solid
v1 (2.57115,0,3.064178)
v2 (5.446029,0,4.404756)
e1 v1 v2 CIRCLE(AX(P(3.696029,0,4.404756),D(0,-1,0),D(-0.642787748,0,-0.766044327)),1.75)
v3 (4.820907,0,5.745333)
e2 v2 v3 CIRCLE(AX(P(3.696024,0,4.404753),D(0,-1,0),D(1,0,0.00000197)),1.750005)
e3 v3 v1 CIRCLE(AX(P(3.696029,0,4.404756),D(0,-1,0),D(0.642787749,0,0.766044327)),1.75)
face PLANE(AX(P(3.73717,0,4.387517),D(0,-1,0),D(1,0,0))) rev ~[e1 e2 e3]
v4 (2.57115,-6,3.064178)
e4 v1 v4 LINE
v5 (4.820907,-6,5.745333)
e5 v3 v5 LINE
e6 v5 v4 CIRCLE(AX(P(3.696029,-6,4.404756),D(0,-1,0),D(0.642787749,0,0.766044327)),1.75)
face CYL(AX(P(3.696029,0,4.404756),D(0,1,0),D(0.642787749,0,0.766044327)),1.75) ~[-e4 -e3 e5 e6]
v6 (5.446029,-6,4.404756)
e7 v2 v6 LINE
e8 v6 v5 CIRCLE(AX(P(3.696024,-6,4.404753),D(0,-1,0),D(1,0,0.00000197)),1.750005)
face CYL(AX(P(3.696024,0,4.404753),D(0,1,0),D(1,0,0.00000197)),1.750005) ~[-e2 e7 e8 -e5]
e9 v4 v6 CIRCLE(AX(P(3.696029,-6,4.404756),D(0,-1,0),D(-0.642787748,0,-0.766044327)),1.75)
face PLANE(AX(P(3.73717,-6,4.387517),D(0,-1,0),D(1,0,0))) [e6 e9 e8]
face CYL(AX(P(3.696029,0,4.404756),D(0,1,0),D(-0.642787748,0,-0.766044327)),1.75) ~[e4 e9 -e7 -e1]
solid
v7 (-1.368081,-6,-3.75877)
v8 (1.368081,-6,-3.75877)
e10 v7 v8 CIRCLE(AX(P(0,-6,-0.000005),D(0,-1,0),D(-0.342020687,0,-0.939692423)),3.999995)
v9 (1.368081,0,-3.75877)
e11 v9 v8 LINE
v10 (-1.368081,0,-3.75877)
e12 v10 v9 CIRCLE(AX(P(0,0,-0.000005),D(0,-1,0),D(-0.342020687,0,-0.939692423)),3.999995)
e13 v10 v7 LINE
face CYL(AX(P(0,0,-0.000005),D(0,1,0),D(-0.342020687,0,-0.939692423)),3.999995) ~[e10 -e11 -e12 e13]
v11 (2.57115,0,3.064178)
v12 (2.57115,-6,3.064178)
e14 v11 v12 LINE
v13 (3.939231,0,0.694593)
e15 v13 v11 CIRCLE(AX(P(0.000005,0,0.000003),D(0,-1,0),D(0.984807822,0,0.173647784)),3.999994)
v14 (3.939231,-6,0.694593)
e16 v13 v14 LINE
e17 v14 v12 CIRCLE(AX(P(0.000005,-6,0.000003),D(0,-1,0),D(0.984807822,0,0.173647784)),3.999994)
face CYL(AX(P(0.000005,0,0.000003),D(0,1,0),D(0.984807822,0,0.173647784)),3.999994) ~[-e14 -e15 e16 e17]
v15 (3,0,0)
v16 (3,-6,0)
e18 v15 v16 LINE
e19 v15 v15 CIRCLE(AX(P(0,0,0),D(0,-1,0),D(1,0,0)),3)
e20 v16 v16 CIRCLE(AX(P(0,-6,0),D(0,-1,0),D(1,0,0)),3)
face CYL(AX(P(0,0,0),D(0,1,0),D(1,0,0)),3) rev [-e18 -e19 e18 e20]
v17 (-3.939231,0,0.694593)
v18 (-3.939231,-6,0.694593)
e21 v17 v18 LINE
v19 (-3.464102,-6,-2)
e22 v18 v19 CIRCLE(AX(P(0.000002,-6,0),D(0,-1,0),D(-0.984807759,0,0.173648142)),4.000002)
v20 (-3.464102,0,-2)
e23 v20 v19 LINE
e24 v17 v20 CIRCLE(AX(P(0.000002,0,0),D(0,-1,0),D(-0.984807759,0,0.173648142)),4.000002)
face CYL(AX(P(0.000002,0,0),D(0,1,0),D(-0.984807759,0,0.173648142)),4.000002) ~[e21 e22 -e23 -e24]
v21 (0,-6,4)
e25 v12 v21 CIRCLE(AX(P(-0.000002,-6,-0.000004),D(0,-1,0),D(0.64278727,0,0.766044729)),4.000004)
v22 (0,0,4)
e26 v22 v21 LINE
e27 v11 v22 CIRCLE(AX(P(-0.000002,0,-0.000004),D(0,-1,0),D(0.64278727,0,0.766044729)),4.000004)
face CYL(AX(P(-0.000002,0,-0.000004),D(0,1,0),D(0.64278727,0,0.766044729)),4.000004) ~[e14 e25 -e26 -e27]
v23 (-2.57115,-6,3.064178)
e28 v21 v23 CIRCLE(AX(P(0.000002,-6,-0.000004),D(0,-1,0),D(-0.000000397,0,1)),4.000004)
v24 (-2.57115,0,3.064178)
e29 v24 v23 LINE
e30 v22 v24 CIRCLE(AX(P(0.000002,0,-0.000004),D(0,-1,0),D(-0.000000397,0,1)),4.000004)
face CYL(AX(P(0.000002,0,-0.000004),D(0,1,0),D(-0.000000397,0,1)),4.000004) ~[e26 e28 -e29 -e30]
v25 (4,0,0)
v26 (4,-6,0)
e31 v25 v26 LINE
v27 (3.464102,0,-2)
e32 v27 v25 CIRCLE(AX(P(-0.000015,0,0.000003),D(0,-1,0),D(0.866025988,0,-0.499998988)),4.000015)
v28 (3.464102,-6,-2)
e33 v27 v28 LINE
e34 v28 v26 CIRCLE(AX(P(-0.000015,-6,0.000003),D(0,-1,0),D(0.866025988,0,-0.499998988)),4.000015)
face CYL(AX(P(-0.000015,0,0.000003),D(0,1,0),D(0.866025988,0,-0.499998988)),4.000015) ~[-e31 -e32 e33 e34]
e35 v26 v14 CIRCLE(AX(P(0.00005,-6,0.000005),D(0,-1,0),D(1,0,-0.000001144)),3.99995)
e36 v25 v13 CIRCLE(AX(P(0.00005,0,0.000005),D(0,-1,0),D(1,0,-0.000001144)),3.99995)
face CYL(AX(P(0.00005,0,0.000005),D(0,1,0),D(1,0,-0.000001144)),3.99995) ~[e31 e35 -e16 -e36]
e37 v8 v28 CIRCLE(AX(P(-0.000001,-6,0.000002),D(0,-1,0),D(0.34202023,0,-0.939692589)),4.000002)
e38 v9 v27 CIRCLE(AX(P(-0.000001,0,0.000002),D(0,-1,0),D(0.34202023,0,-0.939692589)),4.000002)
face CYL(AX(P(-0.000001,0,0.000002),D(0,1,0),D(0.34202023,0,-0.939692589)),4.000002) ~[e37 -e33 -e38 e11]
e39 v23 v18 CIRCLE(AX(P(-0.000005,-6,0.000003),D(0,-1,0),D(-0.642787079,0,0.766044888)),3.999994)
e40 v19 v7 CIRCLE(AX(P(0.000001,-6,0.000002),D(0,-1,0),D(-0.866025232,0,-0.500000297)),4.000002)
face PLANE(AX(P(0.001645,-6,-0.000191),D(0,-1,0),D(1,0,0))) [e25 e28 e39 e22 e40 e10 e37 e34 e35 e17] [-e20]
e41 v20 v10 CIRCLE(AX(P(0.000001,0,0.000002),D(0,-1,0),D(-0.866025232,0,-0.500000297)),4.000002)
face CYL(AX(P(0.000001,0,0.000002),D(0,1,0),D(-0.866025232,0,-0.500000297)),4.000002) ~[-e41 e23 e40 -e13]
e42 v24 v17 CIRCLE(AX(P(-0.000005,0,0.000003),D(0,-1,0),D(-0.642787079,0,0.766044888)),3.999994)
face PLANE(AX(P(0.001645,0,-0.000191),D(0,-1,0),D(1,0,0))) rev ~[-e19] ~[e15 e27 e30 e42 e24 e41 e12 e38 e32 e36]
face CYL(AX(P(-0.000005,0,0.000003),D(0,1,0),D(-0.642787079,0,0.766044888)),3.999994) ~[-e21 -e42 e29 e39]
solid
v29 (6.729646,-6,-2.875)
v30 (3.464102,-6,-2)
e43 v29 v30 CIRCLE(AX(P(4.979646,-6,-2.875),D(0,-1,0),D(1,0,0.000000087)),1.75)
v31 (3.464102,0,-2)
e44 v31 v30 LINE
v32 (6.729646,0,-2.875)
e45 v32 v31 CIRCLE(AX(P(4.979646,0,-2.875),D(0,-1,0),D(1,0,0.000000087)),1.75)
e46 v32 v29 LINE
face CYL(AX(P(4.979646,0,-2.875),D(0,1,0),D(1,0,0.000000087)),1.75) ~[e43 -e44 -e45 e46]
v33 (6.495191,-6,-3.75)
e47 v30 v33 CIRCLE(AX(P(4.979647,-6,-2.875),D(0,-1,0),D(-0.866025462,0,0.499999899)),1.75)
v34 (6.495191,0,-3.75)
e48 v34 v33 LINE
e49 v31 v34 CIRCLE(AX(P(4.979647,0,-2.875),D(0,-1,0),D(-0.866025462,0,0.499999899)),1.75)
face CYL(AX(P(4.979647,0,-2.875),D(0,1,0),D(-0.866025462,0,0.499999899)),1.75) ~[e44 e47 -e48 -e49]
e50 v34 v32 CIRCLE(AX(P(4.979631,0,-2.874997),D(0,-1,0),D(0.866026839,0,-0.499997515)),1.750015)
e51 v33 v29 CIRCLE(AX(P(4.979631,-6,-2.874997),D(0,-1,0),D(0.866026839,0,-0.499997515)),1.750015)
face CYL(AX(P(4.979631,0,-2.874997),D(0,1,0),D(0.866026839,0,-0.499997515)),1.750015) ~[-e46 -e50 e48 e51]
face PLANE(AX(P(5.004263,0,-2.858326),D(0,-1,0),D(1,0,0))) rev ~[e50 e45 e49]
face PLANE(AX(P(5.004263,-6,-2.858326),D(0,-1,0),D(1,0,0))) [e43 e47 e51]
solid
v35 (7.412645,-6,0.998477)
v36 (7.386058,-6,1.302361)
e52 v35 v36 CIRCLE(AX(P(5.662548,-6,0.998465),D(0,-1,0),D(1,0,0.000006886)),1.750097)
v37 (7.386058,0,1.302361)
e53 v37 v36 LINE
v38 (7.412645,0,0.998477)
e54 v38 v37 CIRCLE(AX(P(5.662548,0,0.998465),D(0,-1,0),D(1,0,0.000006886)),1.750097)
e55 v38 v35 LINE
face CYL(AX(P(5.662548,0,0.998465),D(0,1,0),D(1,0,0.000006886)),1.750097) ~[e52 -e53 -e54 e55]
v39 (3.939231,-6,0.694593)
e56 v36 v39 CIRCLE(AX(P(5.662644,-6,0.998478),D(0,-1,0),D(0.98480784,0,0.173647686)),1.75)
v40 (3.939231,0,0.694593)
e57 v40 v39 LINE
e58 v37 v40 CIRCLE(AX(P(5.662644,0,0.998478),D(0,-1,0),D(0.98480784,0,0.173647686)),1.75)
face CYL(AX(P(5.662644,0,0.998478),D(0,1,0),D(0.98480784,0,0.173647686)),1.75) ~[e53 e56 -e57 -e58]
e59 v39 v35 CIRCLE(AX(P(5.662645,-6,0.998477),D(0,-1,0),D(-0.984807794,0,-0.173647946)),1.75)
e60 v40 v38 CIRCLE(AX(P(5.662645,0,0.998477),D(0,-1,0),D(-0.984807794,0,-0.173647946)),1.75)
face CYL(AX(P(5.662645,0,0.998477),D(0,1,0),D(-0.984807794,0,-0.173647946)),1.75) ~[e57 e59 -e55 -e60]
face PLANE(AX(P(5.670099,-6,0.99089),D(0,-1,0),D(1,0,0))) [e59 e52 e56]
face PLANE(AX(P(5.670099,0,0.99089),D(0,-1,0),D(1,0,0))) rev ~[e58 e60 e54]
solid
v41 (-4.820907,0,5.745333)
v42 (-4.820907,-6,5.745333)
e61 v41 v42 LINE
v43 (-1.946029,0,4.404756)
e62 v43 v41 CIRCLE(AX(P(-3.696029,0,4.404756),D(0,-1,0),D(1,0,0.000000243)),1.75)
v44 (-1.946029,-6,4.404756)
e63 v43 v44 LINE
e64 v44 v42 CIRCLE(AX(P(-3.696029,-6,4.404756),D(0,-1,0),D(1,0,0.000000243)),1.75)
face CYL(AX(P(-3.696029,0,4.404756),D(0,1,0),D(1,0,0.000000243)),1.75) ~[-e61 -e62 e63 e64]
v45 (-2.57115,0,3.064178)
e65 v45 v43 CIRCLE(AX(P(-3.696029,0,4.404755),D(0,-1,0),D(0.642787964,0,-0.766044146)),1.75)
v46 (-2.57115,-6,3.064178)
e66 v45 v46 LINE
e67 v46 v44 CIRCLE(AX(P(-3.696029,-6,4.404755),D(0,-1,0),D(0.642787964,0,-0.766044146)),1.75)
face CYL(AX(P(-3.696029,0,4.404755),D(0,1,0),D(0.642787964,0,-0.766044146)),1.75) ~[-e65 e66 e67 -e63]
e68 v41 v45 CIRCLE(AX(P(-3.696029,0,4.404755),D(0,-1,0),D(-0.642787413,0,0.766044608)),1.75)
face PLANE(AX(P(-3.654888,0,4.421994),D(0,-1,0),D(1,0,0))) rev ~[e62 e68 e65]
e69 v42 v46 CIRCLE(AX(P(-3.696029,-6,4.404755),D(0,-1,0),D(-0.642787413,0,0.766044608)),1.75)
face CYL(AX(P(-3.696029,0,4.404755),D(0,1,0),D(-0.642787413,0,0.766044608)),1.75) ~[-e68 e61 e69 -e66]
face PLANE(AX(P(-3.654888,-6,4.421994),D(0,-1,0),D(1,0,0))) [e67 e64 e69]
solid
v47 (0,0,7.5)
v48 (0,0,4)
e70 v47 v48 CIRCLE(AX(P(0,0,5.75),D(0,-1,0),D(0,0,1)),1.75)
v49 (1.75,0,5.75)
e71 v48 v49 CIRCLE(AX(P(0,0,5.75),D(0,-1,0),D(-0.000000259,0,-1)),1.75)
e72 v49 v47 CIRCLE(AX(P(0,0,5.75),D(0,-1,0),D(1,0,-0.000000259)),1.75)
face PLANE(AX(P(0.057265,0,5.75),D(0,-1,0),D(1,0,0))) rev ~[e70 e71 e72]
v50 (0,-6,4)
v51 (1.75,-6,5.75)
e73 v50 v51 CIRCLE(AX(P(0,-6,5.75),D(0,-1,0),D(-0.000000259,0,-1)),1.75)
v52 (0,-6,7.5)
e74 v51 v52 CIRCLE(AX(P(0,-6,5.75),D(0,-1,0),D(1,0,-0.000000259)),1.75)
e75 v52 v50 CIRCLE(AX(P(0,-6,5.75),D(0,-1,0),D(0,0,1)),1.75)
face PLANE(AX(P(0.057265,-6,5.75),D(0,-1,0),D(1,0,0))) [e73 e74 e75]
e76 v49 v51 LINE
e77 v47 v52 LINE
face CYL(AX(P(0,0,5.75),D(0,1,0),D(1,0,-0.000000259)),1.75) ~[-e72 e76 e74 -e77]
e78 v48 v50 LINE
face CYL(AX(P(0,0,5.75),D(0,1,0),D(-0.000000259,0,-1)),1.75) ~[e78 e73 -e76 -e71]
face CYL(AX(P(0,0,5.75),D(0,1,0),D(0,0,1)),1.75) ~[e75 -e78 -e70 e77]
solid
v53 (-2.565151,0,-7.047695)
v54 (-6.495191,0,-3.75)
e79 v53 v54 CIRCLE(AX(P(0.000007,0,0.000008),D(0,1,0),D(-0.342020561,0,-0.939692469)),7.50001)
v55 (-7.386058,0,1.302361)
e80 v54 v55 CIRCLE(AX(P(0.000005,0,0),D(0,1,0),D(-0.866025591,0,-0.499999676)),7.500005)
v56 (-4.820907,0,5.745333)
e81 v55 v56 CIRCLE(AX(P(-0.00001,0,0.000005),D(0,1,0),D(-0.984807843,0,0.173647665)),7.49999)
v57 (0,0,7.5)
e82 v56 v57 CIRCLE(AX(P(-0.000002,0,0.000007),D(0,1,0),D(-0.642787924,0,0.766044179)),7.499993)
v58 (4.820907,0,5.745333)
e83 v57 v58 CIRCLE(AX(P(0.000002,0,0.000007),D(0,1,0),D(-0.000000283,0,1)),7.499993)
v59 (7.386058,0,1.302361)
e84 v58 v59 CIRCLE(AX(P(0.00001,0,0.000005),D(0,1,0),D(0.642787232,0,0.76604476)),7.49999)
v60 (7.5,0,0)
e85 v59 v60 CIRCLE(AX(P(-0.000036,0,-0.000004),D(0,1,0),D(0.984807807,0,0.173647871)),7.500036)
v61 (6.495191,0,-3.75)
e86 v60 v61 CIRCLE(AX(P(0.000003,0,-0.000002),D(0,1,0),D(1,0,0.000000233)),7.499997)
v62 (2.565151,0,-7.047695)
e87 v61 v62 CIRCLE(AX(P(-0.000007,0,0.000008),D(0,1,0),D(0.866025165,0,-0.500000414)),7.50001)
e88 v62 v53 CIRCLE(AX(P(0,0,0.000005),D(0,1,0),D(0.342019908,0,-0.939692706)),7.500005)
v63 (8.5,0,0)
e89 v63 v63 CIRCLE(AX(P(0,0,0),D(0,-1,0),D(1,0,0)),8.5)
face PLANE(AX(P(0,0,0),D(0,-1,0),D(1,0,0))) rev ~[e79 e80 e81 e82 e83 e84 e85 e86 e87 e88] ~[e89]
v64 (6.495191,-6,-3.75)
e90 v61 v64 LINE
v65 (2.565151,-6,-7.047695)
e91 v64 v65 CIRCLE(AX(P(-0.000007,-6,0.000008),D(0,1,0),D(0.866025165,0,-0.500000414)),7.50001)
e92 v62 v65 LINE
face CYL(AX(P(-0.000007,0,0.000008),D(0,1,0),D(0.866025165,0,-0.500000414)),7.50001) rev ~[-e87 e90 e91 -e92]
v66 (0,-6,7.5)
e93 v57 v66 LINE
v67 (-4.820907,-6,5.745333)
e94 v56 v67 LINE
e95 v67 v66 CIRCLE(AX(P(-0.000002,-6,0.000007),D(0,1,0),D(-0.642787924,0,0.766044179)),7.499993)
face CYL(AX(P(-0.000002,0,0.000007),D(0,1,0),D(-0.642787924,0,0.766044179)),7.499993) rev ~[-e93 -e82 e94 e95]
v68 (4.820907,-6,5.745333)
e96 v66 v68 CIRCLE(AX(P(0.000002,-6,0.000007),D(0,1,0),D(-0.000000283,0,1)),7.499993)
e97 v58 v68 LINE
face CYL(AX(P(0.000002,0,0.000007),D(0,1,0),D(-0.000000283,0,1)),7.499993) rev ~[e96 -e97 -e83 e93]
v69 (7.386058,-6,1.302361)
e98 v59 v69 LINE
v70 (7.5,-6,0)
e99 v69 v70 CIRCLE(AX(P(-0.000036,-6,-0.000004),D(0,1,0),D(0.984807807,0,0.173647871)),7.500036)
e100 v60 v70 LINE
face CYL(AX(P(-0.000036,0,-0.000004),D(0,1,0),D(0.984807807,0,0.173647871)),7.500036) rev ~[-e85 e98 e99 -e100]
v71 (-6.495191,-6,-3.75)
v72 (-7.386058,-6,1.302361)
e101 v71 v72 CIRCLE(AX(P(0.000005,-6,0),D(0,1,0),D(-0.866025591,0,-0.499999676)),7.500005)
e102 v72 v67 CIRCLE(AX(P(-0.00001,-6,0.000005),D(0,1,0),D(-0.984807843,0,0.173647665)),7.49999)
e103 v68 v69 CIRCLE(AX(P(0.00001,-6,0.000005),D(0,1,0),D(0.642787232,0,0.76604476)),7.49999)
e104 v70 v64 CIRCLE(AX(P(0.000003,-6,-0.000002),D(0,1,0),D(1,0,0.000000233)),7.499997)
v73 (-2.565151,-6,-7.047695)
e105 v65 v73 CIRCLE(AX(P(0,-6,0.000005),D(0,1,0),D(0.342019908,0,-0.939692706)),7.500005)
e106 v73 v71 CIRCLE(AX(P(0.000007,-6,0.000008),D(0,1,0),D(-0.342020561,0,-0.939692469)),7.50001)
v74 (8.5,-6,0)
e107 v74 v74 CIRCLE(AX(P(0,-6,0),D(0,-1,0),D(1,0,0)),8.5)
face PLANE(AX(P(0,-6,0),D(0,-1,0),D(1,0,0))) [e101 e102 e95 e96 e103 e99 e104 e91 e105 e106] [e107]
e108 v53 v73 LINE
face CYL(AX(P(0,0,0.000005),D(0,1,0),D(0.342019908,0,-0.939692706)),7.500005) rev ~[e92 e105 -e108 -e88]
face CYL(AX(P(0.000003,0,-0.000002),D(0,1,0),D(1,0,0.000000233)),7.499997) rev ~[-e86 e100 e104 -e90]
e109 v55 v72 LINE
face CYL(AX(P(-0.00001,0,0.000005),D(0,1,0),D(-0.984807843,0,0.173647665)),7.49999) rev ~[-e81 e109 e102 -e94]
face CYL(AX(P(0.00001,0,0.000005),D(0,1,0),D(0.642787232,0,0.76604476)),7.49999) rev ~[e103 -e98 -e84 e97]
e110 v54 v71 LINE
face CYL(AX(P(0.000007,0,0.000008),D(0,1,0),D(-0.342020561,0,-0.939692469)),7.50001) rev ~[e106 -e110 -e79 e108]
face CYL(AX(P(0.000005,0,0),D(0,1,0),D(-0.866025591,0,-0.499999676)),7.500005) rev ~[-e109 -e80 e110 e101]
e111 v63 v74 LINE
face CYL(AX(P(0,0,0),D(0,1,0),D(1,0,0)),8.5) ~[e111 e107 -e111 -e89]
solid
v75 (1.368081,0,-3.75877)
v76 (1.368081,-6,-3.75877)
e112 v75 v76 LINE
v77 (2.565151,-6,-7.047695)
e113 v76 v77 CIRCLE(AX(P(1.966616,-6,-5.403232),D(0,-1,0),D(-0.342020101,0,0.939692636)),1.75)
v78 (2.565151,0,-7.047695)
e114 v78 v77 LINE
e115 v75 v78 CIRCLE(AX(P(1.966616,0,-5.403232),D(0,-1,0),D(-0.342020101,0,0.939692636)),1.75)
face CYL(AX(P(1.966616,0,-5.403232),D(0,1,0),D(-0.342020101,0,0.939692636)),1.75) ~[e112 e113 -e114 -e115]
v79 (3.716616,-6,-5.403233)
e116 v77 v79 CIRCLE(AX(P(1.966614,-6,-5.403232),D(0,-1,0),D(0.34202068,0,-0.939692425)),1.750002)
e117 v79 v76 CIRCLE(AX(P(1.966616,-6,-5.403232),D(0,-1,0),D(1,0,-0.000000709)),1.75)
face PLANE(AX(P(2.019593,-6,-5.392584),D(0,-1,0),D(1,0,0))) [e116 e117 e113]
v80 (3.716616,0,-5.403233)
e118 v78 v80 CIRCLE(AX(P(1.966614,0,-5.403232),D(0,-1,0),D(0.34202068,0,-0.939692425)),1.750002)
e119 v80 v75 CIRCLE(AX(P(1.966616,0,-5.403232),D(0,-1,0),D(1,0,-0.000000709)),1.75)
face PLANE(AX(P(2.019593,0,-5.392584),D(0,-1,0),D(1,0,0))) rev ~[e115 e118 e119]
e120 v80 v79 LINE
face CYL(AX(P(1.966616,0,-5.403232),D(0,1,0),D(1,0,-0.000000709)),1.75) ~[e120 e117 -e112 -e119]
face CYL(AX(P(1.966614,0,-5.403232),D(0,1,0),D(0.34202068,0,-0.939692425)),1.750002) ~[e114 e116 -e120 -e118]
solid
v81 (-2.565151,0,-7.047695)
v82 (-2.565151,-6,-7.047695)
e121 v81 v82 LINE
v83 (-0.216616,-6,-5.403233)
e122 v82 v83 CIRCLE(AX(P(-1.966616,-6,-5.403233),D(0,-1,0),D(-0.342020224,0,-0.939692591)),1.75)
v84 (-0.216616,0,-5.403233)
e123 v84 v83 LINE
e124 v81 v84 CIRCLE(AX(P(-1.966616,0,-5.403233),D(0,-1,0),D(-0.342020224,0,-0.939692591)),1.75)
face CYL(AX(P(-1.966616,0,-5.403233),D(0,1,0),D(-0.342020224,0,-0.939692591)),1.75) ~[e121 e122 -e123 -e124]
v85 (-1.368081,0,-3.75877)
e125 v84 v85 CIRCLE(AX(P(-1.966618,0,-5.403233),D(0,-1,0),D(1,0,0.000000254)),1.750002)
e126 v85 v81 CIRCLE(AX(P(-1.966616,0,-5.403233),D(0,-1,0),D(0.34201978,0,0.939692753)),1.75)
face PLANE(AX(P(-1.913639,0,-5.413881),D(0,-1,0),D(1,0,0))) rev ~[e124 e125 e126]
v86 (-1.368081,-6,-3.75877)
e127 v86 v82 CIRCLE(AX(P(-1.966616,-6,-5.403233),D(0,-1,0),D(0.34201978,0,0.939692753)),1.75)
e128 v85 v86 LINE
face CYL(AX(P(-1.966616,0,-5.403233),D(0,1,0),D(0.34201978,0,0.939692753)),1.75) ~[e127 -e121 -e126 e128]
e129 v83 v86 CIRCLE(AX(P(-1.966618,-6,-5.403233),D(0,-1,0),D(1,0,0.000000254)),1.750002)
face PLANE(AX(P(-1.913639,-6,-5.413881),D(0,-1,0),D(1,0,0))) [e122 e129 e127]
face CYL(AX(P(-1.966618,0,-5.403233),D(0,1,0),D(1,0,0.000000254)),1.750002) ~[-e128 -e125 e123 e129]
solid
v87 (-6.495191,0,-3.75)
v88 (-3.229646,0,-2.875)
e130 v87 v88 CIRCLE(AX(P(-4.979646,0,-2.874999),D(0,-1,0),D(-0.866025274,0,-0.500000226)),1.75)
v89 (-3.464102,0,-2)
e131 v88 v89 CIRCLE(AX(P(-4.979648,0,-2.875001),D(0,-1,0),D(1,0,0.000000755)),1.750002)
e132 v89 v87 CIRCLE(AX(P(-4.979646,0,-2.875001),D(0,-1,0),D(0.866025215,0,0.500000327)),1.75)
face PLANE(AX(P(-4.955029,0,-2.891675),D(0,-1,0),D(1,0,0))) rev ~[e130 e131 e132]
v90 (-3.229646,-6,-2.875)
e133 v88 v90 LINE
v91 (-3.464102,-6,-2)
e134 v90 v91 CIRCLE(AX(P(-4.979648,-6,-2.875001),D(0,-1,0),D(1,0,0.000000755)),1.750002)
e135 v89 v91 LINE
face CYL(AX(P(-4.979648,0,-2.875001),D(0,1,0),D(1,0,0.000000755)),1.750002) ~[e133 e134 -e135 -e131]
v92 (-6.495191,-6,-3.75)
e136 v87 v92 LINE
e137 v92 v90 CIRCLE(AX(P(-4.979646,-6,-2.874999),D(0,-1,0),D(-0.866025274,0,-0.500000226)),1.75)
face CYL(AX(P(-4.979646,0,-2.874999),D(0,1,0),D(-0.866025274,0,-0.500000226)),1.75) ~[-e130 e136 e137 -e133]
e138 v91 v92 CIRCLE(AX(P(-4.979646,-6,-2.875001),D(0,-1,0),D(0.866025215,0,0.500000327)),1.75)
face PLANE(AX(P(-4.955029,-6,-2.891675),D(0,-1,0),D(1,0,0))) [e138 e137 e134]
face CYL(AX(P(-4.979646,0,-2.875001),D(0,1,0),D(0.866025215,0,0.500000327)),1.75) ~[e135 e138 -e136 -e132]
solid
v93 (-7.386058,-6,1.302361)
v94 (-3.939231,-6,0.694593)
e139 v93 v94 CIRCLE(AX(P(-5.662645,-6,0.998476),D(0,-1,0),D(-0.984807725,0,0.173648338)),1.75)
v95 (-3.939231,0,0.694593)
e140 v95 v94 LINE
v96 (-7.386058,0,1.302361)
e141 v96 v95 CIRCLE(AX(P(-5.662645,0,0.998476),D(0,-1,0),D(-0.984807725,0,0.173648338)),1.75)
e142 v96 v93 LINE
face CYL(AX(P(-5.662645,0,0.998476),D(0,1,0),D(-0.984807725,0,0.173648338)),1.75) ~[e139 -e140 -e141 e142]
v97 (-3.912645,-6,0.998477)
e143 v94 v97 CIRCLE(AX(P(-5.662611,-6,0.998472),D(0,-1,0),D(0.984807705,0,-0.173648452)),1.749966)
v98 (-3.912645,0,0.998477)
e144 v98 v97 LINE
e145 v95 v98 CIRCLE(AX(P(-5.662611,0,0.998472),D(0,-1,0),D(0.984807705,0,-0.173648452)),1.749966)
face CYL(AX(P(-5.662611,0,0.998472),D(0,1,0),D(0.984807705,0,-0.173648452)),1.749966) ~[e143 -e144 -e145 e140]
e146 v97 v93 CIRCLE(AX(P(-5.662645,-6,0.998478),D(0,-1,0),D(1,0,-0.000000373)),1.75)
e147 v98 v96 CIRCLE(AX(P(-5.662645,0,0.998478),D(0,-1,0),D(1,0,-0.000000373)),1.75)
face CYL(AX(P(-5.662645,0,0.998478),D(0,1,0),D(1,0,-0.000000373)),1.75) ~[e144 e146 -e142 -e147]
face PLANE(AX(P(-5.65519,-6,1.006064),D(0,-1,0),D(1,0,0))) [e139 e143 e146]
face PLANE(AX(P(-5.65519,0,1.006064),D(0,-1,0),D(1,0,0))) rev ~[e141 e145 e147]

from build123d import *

# Parameters (mm, degrees)
F0_R     = 8.5
F0_R_2   = 3
F1_DEPTH = 6


with BuildPart() as f1:
    # F0 (on Front) → F1 (new body)
    with BuildSketch(Plane.XZ):
        Circle(F0_R)
        with BuildLine():
            ThreePointArc((7.386058, 1.302361), (7.47146, 0.653668), (7.5, 0))
            ThreePointArc((7.5, 0), (7.244444, -1.941143), (6.495191, -3.75))
            ThreePointArc((6.495191, -3.75), (4.820907, -5.745333), (2.565151, -7.047695))
            ThreePointArc((2.565151, -7.047695), (0, -7.5), (-2.565151, -7.047695))
            ThreePointArc((-2.565151, -7.047695), (-4.820907, -5.745333), (-6.495191, -3.75))
            ThreePointArc((-6.495191, -3.75), (-7.386058, -1.302361), (-7.386058, 1.302361))
            ThreePointArc((-7.386058, 1.302361), (-6.495191, 3.75), (-4.820907, 5.745333))
            ThreePointArc((-4.820907, 5.745333), (-2.565151, 7.047695), (0, 7.5))
            ThreePointArc((0, 7.5), (2.565151, 7.047695), (4.820907, 5.745333))
            ThreePointArc((4.820907, 5.745333), (6.495191, 3.75), (7.386058, 1.302361))
        make_face(mode=Mode.SUBTRACT)
        with BuildLine():
            ThreePointArc((-1.946029, 4.404756), (-2.956447, 5.990794), (-4.820907, 5.745333))
            ThreePointArc((-4.820907, 5.745333), (-5.036607, 3.279877), (-2.57115, 3.064178))
            ThreePointArc((-2.57115, 3.064178), (-2.10999, 3.665174), (-1.946029, 4.404756))
        make_face()
        with BuildLine():
            ThreePointArc((-3.912645, 0.998477), (-5.510122, 2.741818), (-7.386058, 1.302361))
            ThreePointArc((-7.386058, 1.302361), (-5.966529, -0.724937), (-3.939231, 0.694593))
            ThreePointArc((-3.939231, 0.694593), (-3.919304, 0.845954), (-3.912645, 0.998477))
        make_face()
        with BuildLine():
            ThreePointArc((-3.464102, -2), (-5.854646, -1.359456), (-6.495191, -3.75))
            ThreePointArc((-6.495191, -3.75), (-4.526713, -4.56537), (-3.229646, -2.875))
            ThreePointArc((-3.229646, -2.875), (-3.289276, -2.422067), (-3.464102, -2))
        make_face()
        with BuildLine():
            ThreePointArc((4, 0), (3.984779, 0.348623), (3.939231, 0.694593))
            ThreePointArc((3.939231, 0.694593), (3.464102, 2), (2.57115, 3.064178))
            ThreePointArc((2.57115, 3.064178), (1.368081, 3.75877), (0, 4))
            ThreePointArc((0, 4), (-1.368081, 3.75877), (-2.57115, 3.064178))
            ThreePointArc((-2.57115, 3.064178), (-3.464102, 2), (-3.939231, 0.694593))
            ThreePointArc((-3.939231, 0.694593), (-3.939231, -0.694593), (-3.464102, -2))
            ThreePointArc((-3.464102, -2), (-2.57115, -3.064178), (-1.368081, -3.75877))
            ThreePointArc((-1.368081, -3.75877), (0, -4), (1.368081, -3.75877))
            ThreePointArc((1.368081, -3.75877), (2.57115, -3.064178), (3.464102, -2))
            ThreePointArc((3.464102, -2), (3.863703, -1.035276), (4, 0))
        make_face()
        Circle(F0_R_2, mode=Mode.SUBTRACT)
        with BuildLine():
            ThreePointArc((1.75, 5.75), (1.237437, 6.987437), (0, 7.5))
            ThreePointArc((0, 7.5), (-1.75, 5.75), (0, 4))
            ThreePointArc((0, 4), (1.237437, 4.512563), (1.75, 5.75))
        make_face()
        with BuildLine():
            ThreePointArc((5.446029, 4.404756), (5.282067, 5.144337), (4.820907, 5.745333))
            ThreePointArc((4.820907, 5.745333), (2.355451, 5.529634), (2.57115, 3.064178))
            ThreePointArc((2.57115, 3.064178), (4.435611, 2.818717), (5.446029, 4.404756))
        make_face()
        with BuildLine():
            ThreePointArc((7.412645, 0.998477), (7.405985, 1.151), (7.386058, 1.302361))
            ThreePointArc((7.386058, 1.302361), (5.35876, 2.721891), (3.939231, 0.694593))
            ThreePointArc((3.939231, 0.694593), (5.815167, -0.744864), (7.412645, 0.998477))
        make_face()
        with BuildLine():
            ThreePointArc((3.464102, -2), (4.104646, -4.390544), (6.495191, -3.75))
            ThreePointArc((6.495191, -3.75), (6.670016, -3.327933), (6.729646, -2.875))
            ThreePointArc((6.729646, -2.875), (5.432579, -1.18463), (3.464102, -2))
        make_face()
        with BuildLine():
            ThreePointArc((1.368081, -3.75877), (0.322154, -6.001768), (2.565151, -7.047695))
            ThreePointArc((2.565151, -7.047695), (3.400132, -6.406991), (3.716616, -5.403233))
            ThreePointArc((3.716616, -5.403233), (2.970375, -3.969716), (1.368081, -3.75877))
        make_face()
        with BuildLine():
            ThreePointArc((-1.368081, -3.75877), (-3.611078, -4.804697), (-2.565151, -7.047695))
            ThreePointArc((-2.565151, -7.047695), (-0.962857, -6.836749), (-0.216616, -5.403233))
            ThreePointArc((-0.216616, -5.403233), (-0.5331, -4.399474), (-1.368081, -3.75877))
        make_face()
    extrude(amount=F1_DEPTH)


solid = f1.part
